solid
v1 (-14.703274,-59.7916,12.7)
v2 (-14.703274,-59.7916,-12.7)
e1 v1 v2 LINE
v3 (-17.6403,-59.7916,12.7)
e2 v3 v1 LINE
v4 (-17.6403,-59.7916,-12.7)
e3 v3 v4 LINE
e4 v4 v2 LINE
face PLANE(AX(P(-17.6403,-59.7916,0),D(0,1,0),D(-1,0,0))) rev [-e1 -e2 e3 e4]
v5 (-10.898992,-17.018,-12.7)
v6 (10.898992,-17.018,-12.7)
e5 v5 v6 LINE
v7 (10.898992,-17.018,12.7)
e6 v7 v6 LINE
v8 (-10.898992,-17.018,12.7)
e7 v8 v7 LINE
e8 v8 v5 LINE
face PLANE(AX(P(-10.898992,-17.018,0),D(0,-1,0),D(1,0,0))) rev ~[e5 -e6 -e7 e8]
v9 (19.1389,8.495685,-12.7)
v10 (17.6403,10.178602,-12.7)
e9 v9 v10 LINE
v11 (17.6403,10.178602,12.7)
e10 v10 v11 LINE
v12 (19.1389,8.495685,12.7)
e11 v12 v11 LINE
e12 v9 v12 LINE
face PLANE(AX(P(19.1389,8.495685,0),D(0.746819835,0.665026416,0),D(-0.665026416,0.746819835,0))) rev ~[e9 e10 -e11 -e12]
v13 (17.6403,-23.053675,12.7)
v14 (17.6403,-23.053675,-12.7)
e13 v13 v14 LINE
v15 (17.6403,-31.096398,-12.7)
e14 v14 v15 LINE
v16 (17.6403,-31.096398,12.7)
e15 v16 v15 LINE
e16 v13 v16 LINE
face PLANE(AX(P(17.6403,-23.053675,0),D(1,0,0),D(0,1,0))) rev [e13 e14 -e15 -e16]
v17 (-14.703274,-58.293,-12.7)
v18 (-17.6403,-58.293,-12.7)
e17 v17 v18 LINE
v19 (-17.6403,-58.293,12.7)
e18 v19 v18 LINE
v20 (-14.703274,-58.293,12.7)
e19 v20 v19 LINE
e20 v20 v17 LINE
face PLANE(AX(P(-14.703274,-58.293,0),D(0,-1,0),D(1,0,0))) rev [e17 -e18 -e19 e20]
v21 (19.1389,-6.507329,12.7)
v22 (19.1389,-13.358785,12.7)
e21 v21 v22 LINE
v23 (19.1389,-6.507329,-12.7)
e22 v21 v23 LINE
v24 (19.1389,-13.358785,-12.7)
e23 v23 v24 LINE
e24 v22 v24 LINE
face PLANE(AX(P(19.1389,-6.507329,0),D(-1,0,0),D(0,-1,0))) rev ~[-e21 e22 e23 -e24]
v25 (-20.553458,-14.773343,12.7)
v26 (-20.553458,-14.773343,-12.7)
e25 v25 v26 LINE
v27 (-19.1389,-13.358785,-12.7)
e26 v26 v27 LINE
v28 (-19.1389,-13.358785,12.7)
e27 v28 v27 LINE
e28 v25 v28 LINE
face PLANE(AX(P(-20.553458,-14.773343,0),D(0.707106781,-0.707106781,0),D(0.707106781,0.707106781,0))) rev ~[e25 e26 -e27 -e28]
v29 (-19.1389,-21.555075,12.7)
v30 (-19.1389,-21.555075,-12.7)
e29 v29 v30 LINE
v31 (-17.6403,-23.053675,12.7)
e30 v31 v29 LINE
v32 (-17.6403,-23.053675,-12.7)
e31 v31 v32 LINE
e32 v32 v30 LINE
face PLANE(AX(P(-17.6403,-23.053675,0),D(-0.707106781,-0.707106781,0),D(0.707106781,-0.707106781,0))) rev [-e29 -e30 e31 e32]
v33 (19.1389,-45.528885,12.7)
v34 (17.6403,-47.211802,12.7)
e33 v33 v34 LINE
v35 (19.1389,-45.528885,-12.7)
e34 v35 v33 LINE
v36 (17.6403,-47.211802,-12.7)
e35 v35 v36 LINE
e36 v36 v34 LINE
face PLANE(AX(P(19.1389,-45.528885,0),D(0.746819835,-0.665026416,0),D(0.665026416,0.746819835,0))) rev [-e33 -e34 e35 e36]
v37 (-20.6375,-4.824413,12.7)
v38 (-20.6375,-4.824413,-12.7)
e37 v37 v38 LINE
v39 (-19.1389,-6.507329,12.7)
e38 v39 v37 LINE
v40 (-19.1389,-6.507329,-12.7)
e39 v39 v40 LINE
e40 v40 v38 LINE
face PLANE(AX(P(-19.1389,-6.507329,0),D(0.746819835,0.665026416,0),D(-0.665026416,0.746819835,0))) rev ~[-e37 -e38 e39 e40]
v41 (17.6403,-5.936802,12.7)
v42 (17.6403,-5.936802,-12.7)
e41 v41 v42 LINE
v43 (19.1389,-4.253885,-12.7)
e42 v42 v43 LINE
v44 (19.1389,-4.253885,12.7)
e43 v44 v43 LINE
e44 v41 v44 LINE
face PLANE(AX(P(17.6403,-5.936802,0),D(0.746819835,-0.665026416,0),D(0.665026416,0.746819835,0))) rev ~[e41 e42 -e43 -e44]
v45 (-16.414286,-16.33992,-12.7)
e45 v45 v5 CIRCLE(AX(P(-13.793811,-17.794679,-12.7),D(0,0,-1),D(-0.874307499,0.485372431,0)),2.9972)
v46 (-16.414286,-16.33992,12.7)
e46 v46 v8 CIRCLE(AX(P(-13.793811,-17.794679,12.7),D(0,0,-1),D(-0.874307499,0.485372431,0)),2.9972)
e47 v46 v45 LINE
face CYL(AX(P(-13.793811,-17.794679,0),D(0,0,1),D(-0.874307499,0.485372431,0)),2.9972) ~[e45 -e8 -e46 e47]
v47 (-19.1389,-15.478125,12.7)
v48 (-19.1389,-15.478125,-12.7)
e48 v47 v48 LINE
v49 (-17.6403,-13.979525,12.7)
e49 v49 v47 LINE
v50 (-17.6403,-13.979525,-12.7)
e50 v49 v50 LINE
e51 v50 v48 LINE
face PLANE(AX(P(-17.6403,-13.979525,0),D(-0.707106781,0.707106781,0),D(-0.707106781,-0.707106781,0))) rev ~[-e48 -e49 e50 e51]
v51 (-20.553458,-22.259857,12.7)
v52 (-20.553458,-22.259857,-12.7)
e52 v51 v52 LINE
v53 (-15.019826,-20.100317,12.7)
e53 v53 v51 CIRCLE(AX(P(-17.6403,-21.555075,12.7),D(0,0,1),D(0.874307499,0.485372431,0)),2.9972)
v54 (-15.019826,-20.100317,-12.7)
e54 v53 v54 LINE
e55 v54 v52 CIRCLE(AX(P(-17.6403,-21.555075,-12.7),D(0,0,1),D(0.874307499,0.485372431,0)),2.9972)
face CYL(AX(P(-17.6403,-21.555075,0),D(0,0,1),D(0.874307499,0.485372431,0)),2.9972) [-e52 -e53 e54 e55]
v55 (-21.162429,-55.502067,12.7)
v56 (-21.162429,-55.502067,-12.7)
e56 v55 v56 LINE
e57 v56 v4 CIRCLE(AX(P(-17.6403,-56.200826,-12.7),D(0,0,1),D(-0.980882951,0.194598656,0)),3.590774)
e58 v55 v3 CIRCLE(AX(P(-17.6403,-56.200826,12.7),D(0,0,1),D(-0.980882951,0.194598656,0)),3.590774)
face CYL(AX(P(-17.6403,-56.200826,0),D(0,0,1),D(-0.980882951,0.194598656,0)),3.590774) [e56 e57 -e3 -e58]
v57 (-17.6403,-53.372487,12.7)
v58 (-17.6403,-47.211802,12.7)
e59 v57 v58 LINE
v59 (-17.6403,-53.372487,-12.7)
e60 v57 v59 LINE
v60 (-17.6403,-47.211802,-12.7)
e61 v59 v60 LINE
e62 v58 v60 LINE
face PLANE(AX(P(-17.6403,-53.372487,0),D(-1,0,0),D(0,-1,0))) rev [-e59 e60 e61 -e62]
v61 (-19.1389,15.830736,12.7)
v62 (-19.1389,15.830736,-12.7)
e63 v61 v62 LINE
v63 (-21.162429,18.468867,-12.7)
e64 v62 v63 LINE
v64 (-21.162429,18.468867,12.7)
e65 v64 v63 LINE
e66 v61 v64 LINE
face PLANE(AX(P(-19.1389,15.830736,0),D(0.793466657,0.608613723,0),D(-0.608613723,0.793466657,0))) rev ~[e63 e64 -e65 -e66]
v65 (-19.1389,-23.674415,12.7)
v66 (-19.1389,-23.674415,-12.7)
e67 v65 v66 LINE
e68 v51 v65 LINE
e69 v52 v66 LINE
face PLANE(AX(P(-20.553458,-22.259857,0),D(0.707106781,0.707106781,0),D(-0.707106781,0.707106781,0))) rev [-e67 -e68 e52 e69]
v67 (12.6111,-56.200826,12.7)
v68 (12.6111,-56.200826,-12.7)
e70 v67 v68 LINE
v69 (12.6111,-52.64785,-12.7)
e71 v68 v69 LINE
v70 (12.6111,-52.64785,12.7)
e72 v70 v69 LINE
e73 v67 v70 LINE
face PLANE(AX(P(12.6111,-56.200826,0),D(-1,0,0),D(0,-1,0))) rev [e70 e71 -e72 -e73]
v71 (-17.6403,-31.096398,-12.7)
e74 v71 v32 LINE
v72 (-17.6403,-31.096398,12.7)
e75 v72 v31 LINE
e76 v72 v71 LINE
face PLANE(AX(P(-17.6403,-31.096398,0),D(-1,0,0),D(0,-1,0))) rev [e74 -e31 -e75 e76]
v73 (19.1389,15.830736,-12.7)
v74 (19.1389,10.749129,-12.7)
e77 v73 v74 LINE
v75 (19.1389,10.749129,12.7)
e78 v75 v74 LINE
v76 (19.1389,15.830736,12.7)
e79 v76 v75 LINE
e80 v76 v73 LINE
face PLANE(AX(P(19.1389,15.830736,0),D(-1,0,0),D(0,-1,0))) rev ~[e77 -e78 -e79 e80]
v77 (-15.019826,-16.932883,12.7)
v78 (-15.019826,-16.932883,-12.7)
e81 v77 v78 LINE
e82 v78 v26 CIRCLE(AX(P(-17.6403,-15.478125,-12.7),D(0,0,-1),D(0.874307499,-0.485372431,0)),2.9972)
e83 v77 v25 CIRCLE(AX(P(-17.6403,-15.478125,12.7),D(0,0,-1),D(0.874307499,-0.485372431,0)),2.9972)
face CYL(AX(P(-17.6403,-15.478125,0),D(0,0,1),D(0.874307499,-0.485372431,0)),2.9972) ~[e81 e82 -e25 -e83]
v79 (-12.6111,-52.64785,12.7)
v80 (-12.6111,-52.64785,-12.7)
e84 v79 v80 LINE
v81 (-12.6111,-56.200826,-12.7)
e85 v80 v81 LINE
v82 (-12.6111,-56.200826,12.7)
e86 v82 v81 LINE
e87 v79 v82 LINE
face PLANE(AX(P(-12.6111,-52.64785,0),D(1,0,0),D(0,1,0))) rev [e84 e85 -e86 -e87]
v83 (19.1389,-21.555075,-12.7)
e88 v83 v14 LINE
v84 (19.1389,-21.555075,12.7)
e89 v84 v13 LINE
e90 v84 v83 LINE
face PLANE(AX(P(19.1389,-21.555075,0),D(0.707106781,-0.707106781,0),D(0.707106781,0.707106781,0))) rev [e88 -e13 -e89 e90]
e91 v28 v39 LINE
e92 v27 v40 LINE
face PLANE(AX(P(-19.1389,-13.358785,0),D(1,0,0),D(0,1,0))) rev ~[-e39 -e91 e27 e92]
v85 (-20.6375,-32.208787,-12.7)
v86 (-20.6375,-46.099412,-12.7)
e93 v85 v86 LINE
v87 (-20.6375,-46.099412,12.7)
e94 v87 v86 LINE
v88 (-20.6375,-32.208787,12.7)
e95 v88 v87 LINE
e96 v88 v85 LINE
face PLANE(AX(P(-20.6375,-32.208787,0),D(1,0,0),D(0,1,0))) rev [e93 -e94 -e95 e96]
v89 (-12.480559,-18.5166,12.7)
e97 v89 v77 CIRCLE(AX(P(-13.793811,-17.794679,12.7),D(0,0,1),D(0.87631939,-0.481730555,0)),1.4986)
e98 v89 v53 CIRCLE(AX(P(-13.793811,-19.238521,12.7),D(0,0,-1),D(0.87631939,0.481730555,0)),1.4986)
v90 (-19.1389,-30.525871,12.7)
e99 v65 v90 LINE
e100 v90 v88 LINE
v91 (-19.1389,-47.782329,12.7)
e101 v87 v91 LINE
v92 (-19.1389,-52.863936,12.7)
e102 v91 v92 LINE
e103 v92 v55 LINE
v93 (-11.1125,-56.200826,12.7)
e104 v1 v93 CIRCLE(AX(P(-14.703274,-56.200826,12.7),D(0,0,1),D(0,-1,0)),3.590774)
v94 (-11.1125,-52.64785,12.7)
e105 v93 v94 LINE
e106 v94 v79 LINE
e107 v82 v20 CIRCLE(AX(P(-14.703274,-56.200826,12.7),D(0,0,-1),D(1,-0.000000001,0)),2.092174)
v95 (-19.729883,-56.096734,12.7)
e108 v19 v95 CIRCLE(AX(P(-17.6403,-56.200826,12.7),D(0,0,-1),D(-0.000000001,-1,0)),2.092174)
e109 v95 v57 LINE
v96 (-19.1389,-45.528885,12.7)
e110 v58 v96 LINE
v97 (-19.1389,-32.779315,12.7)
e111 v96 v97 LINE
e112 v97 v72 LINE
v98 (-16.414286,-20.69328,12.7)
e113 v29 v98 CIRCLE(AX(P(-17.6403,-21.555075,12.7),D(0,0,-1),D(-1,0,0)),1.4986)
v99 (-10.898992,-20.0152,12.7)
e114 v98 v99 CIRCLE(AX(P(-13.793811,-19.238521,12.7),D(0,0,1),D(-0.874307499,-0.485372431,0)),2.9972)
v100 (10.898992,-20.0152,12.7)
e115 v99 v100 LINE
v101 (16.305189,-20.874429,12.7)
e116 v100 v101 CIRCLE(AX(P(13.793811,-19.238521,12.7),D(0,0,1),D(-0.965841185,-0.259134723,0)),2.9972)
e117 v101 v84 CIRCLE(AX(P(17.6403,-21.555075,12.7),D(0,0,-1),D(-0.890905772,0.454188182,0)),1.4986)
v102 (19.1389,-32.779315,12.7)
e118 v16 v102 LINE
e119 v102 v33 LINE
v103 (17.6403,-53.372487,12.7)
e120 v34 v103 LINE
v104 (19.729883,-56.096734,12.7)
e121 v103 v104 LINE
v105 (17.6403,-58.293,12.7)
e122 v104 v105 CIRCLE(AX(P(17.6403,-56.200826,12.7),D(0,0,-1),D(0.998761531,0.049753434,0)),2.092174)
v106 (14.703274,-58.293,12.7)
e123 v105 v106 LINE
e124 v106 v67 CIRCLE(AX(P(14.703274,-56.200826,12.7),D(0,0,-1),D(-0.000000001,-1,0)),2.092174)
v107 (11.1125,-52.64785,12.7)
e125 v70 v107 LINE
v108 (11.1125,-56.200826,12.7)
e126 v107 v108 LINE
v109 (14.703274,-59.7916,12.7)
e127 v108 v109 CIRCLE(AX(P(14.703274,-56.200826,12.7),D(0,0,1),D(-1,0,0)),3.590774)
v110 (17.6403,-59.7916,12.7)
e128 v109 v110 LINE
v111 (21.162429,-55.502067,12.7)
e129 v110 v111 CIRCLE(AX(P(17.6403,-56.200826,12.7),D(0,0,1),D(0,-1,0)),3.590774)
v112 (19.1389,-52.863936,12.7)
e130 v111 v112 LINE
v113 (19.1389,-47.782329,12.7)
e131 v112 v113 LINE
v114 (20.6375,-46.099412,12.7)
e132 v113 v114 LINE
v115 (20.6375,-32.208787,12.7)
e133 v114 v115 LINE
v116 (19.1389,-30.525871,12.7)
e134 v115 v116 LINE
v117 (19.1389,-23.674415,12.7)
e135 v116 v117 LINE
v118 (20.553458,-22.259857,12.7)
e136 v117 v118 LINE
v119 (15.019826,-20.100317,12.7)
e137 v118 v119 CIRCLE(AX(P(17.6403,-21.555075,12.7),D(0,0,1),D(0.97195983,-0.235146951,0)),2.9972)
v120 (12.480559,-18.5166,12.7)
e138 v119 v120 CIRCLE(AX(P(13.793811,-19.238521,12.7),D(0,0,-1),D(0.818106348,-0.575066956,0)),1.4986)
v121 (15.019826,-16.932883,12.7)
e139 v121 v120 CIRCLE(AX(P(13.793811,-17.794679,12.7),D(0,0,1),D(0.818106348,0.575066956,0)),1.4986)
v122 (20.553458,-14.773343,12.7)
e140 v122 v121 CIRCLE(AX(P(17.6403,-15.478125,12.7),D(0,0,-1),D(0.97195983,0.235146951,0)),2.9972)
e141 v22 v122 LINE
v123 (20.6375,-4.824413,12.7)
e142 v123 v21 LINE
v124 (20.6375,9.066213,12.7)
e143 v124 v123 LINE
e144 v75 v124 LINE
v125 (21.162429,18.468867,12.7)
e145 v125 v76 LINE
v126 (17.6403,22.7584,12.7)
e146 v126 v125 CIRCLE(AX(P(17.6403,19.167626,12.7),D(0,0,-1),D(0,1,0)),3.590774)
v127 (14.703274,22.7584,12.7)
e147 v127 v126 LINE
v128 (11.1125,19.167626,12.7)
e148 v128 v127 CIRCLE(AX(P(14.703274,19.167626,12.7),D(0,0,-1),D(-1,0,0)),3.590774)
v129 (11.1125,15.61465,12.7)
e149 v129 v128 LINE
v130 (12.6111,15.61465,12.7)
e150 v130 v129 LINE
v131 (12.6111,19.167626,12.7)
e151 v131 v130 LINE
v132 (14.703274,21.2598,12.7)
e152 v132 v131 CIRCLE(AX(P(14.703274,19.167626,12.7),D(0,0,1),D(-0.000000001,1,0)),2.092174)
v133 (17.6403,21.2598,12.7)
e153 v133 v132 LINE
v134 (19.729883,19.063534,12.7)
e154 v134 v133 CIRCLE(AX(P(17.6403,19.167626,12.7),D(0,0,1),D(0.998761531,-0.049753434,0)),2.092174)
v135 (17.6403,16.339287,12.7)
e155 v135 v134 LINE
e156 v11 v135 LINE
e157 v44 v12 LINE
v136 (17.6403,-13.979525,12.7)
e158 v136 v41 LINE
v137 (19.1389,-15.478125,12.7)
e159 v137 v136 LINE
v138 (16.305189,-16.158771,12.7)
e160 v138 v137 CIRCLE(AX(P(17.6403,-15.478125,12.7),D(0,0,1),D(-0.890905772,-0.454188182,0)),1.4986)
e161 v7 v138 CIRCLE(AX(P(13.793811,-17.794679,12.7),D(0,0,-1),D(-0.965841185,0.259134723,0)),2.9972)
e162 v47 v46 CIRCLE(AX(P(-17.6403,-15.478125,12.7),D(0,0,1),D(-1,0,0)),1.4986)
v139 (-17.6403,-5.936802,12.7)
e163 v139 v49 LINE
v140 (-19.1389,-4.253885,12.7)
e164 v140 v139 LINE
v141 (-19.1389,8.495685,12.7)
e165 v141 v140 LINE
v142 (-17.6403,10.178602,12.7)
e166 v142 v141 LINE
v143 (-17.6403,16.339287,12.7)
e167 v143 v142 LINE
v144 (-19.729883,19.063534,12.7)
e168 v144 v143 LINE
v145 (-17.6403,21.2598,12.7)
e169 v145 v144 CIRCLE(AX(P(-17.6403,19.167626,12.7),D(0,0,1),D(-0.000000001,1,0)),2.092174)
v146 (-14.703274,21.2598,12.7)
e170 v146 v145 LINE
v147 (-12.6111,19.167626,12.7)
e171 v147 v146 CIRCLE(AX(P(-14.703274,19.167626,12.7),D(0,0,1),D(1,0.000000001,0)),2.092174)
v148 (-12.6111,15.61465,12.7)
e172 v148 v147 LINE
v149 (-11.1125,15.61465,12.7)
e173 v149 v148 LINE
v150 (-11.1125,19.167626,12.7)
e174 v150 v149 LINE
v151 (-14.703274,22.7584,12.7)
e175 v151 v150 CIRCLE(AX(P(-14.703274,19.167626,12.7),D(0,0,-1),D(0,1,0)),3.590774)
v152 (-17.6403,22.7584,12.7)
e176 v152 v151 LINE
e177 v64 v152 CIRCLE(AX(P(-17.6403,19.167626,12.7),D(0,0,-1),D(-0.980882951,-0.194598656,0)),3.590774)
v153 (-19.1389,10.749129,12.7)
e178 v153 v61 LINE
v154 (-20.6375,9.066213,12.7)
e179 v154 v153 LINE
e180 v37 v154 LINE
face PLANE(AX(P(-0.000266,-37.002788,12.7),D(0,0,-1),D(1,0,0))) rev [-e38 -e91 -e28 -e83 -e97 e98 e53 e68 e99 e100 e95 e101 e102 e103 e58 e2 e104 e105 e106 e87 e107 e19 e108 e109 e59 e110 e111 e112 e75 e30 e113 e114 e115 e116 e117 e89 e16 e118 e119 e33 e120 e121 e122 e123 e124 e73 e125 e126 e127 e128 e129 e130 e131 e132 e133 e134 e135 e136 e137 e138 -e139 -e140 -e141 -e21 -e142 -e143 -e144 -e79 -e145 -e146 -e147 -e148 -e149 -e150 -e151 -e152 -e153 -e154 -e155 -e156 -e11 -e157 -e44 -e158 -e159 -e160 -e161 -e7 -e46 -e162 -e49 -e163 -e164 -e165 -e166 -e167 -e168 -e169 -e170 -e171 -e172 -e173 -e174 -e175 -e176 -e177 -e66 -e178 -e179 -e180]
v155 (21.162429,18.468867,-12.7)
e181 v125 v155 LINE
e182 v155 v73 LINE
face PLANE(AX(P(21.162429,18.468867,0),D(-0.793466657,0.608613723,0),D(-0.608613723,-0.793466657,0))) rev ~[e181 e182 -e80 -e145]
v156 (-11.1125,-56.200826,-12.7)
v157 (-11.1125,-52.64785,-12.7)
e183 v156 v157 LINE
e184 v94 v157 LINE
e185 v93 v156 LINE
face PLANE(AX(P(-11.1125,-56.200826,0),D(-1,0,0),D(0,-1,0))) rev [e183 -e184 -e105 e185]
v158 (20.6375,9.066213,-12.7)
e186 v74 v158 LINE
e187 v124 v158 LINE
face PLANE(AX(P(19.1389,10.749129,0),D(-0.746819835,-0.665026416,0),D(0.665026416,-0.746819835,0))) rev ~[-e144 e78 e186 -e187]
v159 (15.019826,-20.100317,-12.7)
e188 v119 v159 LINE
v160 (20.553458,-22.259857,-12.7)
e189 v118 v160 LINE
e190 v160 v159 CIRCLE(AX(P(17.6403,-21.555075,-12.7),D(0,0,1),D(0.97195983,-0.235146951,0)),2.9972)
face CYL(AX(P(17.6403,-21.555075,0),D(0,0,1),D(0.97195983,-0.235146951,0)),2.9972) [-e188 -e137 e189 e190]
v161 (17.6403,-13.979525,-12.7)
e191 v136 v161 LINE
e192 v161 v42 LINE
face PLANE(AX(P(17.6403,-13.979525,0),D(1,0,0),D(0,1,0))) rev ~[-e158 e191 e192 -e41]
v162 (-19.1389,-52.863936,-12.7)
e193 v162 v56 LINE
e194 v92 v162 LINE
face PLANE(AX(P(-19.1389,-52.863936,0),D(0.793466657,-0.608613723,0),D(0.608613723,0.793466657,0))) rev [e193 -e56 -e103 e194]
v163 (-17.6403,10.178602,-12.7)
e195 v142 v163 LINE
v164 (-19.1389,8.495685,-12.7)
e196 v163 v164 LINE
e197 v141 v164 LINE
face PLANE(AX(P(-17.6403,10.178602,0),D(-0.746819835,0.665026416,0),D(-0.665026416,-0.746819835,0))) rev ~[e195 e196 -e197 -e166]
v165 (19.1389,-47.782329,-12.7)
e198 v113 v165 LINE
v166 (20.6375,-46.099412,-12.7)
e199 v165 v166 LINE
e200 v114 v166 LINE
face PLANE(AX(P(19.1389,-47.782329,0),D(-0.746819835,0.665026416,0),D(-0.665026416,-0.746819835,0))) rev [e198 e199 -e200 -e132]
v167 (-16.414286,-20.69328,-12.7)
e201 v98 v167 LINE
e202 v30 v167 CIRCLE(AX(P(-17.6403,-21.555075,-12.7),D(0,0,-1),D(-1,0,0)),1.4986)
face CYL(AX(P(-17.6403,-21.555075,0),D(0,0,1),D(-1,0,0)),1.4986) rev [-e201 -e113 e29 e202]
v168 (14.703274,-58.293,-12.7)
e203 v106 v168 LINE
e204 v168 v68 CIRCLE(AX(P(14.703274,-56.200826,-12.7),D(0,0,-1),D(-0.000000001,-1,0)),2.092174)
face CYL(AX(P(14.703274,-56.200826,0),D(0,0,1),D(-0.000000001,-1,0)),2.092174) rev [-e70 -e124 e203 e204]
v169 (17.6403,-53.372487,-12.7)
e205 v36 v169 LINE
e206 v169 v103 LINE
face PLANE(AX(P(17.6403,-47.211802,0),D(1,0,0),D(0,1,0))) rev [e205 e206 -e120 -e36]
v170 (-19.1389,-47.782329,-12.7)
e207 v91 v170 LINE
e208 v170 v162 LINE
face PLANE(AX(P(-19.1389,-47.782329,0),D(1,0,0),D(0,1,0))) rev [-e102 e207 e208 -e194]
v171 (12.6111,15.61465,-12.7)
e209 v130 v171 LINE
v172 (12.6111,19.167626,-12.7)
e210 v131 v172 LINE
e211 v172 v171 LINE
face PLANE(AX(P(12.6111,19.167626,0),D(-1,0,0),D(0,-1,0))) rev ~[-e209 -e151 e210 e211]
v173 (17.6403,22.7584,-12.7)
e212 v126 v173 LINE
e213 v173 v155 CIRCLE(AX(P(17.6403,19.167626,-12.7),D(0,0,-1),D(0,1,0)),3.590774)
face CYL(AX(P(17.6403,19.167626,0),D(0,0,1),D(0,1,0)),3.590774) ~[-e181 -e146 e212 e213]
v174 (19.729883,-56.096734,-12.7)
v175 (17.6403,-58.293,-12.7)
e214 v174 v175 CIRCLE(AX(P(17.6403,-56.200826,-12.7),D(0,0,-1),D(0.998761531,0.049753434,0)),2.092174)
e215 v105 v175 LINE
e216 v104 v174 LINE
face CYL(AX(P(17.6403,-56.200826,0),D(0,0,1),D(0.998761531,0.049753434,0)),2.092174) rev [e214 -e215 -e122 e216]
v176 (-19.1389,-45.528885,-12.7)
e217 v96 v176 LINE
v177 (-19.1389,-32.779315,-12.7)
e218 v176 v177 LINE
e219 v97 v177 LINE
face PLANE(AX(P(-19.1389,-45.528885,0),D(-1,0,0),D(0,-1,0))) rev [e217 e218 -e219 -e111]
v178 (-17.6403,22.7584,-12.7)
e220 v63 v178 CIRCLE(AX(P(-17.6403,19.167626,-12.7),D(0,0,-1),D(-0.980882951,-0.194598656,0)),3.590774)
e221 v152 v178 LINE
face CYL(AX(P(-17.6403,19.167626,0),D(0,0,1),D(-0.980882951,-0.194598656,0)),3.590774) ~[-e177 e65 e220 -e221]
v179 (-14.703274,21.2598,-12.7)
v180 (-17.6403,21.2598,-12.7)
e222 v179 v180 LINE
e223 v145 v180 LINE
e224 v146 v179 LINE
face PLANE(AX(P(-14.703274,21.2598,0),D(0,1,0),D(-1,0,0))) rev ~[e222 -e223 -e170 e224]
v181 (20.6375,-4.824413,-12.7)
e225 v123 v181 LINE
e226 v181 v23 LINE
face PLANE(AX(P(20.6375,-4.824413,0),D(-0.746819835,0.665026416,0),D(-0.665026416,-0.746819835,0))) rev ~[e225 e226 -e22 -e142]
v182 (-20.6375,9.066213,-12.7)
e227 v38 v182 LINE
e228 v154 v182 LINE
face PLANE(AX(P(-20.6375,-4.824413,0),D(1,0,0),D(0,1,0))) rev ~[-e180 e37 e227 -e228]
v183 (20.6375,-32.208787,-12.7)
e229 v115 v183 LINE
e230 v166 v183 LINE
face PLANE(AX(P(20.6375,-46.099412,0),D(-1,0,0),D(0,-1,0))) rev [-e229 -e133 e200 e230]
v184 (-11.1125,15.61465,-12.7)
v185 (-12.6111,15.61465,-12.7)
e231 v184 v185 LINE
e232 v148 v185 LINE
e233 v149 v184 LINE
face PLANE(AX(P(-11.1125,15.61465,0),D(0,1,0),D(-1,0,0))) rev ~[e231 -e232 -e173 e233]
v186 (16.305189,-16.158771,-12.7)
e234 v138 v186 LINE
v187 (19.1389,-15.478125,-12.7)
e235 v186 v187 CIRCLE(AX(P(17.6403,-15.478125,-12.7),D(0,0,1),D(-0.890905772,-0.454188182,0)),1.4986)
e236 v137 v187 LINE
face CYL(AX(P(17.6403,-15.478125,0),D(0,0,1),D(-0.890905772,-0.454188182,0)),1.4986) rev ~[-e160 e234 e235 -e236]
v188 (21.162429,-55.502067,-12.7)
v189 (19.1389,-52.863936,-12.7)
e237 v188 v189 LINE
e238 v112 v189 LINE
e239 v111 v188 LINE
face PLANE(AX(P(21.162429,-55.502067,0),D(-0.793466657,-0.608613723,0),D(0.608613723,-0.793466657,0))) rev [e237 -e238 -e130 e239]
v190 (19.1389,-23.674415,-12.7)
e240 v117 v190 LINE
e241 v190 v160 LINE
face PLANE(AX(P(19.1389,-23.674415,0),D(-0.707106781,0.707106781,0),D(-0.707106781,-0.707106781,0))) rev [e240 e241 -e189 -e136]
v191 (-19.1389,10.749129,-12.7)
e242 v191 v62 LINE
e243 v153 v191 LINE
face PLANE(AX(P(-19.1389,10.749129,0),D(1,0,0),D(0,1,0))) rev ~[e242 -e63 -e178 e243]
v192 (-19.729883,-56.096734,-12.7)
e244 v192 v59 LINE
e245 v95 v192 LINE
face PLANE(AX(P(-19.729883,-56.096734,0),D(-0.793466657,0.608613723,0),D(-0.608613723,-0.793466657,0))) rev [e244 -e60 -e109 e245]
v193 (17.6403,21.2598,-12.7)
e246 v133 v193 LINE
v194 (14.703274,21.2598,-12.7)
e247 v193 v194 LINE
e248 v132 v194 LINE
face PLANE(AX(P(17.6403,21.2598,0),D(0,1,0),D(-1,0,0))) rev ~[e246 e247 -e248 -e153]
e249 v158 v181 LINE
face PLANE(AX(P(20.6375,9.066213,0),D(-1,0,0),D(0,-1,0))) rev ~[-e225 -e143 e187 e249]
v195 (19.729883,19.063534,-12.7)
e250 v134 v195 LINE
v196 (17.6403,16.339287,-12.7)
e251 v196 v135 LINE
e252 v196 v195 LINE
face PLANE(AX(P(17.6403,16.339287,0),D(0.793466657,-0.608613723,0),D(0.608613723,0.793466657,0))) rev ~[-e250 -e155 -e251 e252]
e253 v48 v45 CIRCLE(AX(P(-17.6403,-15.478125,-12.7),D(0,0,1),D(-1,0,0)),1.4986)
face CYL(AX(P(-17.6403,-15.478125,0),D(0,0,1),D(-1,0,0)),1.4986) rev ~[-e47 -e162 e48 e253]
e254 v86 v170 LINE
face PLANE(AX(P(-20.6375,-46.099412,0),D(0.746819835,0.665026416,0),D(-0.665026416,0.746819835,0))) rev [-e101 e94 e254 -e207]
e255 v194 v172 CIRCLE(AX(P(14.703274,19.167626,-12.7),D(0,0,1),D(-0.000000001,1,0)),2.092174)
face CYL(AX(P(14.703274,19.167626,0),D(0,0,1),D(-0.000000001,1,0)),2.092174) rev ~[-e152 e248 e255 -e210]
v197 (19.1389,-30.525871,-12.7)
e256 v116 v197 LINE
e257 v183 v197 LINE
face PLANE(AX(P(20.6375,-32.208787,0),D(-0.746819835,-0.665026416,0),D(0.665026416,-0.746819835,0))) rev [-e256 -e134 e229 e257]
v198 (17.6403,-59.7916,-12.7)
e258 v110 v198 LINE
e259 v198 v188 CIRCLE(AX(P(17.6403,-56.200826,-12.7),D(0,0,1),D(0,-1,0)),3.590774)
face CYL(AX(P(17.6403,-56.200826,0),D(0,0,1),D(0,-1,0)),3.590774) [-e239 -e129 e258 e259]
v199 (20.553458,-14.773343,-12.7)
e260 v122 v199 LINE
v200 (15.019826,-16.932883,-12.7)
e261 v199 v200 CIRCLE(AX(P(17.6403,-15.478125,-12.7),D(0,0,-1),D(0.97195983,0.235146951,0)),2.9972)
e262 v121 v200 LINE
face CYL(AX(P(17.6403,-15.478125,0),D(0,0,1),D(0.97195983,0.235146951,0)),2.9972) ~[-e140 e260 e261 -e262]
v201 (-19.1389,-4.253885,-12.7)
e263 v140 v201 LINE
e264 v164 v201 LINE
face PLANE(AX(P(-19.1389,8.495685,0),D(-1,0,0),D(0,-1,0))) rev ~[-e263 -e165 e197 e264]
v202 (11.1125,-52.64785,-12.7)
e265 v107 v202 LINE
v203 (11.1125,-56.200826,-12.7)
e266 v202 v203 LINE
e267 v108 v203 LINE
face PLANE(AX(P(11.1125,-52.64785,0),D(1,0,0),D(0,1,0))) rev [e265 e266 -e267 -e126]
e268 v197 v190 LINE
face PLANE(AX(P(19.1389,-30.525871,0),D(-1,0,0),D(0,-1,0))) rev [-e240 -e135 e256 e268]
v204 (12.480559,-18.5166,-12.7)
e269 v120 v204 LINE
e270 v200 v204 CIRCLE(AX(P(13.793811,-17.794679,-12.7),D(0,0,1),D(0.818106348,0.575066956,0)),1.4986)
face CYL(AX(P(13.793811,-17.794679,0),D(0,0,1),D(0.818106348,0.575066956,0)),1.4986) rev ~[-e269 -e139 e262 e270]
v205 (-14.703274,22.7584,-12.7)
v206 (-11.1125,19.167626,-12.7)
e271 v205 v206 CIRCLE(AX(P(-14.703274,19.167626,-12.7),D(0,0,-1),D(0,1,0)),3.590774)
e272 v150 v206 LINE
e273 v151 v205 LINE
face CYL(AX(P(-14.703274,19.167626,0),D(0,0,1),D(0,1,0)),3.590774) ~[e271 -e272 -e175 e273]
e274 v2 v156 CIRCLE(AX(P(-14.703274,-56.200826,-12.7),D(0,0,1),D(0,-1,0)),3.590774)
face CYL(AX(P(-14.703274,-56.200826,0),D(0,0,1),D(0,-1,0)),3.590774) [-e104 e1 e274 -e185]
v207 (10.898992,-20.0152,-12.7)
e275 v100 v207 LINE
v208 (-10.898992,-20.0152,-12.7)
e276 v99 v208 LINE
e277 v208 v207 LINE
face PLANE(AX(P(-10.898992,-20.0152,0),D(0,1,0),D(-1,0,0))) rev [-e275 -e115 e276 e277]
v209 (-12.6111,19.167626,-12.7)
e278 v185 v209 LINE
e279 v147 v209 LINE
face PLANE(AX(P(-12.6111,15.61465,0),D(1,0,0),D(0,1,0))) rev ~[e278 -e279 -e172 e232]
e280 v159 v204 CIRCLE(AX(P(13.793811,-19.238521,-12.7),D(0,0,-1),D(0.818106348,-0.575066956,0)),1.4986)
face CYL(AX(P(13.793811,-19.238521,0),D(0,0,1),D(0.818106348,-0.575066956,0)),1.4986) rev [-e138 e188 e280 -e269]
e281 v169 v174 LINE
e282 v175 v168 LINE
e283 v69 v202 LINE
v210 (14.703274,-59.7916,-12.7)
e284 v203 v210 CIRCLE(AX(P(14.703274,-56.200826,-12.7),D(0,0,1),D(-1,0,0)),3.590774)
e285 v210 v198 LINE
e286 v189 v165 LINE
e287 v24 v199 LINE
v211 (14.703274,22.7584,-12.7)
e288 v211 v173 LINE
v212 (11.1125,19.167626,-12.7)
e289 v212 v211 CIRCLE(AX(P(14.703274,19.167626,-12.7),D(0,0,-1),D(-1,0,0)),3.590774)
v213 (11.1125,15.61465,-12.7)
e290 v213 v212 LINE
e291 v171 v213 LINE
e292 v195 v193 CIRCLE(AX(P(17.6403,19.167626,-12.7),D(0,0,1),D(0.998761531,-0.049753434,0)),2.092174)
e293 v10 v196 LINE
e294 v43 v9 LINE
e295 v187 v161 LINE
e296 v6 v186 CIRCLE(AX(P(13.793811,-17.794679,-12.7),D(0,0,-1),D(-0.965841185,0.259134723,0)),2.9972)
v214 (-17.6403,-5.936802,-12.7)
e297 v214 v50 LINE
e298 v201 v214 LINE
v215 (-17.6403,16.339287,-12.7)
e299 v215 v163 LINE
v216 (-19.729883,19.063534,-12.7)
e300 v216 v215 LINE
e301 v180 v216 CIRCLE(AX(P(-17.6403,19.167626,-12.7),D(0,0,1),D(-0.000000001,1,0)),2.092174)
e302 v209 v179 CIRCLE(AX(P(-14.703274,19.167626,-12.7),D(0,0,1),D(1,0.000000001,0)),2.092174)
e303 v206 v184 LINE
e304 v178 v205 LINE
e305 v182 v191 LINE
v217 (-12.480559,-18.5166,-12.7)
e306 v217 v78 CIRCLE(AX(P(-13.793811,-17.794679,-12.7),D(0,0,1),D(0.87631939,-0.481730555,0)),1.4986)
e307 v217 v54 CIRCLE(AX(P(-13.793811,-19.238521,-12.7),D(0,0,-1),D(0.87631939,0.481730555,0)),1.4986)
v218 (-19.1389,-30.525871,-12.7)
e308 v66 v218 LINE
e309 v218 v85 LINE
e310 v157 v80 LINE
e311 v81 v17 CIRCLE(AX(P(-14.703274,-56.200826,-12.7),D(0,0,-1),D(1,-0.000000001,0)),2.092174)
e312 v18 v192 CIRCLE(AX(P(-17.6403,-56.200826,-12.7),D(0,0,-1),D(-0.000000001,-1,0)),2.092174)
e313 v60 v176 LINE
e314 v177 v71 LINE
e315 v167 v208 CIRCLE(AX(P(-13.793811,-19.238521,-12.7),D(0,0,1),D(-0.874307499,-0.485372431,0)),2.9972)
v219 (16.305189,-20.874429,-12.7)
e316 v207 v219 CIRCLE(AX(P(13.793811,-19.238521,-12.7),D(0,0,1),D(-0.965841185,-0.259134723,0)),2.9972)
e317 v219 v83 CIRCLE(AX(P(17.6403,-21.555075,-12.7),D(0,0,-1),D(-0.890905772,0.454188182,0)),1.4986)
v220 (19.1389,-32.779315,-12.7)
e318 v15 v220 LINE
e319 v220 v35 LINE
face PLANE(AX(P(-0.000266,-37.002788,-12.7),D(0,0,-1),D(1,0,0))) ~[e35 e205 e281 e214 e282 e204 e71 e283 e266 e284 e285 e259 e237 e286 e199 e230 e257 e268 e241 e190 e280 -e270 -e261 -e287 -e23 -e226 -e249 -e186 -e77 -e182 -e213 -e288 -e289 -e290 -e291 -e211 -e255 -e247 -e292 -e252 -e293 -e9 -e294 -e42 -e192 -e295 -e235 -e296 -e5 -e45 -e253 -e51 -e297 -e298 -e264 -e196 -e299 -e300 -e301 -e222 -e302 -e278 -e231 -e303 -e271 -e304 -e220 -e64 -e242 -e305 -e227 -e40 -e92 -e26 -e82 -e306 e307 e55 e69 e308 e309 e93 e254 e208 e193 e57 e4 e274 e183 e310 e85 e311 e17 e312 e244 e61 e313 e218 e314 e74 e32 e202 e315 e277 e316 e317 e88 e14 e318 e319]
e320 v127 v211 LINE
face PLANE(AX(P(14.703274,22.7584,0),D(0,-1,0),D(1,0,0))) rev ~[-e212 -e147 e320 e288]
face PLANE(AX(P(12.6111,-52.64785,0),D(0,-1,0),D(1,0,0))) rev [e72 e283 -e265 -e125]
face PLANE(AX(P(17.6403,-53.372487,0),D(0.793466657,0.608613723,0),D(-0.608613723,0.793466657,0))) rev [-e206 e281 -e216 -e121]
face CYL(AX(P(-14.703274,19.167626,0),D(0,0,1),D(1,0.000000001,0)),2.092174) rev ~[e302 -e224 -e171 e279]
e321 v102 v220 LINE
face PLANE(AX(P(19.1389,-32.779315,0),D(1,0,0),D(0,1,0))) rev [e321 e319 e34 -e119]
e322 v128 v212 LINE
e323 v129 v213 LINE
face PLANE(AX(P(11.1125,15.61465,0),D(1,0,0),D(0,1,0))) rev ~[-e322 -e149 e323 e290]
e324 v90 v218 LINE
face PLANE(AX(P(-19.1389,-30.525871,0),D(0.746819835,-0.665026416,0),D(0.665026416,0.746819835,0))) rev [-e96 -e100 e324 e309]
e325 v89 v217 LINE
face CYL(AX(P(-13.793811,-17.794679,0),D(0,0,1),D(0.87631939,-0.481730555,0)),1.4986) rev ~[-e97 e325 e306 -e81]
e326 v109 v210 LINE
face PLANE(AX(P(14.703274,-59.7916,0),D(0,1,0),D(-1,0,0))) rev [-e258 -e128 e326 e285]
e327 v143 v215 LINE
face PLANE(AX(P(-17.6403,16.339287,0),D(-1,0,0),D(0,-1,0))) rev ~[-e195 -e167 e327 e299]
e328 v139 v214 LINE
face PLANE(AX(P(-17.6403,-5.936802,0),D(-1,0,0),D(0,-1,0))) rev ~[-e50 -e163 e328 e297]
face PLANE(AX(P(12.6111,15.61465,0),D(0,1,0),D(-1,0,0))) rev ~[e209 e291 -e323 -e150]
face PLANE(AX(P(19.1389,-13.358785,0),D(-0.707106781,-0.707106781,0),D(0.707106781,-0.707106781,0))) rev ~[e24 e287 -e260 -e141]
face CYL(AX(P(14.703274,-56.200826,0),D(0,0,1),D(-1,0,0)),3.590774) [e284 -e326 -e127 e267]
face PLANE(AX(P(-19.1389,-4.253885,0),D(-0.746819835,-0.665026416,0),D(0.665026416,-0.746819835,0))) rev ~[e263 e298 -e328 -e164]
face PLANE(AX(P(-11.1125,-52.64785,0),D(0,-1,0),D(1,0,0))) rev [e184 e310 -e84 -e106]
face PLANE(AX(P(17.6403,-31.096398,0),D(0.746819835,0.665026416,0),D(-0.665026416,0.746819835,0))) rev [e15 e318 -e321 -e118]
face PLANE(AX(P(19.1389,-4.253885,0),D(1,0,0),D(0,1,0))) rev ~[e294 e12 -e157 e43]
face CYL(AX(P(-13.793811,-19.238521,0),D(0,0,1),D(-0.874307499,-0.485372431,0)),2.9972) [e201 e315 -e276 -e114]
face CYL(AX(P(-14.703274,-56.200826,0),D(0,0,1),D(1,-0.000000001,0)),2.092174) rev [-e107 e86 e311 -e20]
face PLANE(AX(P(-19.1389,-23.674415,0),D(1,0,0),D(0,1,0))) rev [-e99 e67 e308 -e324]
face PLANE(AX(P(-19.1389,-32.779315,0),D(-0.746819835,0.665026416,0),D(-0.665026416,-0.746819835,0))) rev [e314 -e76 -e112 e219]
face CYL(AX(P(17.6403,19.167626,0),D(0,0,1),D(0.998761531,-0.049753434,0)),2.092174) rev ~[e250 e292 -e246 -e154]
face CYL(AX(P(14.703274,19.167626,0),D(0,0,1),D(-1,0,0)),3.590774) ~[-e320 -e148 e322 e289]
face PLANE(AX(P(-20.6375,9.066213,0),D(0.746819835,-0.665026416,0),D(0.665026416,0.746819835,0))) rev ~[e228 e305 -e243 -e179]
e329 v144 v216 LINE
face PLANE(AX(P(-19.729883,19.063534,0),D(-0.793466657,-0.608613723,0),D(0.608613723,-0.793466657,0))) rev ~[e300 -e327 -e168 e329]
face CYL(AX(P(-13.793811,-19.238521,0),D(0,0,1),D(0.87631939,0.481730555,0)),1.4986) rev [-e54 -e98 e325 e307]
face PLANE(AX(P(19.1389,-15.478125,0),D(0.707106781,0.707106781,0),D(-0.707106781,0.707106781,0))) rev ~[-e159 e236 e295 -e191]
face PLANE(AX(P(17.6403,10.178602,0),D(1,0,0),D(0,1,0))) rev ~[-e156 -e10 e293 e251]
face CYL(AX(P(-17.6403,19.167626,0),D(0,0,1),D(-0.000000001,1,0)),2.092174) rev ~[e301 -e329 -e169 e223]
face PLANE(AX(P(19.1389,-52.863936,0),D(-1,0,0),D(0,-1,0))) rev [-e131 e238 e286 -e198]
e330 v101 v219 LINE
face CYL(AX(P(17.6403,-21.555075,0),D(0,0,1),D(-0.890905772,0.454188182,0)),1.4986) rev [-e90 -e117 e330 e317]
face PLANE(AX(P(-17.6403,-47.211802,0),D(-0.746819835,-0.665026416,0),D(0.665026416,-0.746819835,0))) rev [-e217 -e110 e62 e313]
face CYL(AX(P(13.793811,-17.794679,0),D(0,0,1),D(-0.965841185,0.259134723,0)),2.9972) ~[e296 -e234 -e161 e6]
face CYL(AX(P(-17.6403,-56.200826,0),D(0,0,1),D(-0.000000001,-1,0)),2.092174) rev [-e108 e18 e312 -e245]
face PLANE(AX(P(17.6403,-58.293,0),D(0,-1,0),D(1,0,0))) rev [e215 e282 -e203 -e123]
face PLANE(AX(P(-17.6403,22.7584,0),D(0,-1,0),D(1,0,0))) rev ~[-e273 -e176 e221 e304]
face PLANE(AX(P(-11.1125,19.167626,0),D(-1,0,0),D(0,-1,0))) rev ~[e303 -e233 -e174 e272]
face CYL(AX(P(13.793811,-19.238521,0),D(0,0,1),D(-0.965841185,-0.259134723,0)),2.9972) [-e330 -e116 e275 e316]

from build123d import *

# Parameters (mm, degrees)
BASE_EXTRUDE_DEPTH = 12.7


with BuildPart() as part:
    # Sketch1 → Base-Extrude (new, symmetric)
    with BuildSketch(Plane.XY):
        with BuildLine():
            Line((17.6403, 16.339286512), (19.729882578, 19.063533504))
            ThreePointArc((19.729882578, 19.063533504), (19.156045845, 20.609744632), (17.6403, 21.2598))
            Line((17.6403, 21.2598), (14.70327367, 21.2598))
            ThreePointArc((14.70327367, 21.2598), (13.223883481, 20.647016519), (12.6111, 19.16762633))
            Line((12.6111, 19.16762633), (12.6111, 15.61465))
            Line((12.6111, 15.61465), (11.1125, 15.61465))
            Line((11.1125, 15.61465), (11.1125, 19.16762633))
            ThreePointArc((11.1125, 19.16762633), (12.164213258, 21.706686742), (14.70327367, 22.7584))
            Line((14.70327367, 22.7584), (17.6403, 22.7584))
            ThreePointArc((17.6403, 22.7584), (20.415434554, 21.446284653), (21.162428673, 18.4688666))
            Line((21.162428673, 18.4688666), (19.1389, 15.830735923))
            Line((19.1389, 15.830735923), (19.1389, 10.749129415))
            Line((19.1389, 10.749129415), (20.6375, 9.0662125))
            Line((20.6375, 9.0662125), (20.6375, -4.8244125))
            Line((20.6375, -4.8244125), (19.1389, -6.507329415))
            Line((19.1389, -6.507329415), (19.1389, -13.358784555))
            Line((19.1389, -13.358784555), (20.553458003, -14.773342558))
            ThreePointArc((20.553458003, -14.773342558), (18.729942105, -18.270236732), (15.019825564, -16.932883251))
            ThreePointArc((15.019825564, -16.932883251), (13.000752562, -16.523120627), (12.480559153, -18.5166))
            Line((12.480559153, -18.5166), (-12.480559153, -18.5166))
            ThreePointArc((-12.480559153, -18.5166), (-13.000752562, -16.523120627), (-15.019825564, -16.932883251))
            ThreePointArc((-15.019825564, -16.932883251), (-18.729942105, -18.270236732), (-20.553458003, -14.773342558))
            Line((-20.553458003, -14.773342558), (-19.1389, -13.358784555))
            Line((-19.1389, -13.358784555), (-19.1389, -6.507329415))
            Line((-19.1389, -6.507329415), (-20.6375, -4.8244125))
            Line((-20.6375, -4.8244125), (-20.6375, 9.0662125))
            Line((-20.6375, 9.0662125), (-19.1389, 10.749129415))
            Line((-19.1389, 10.749129415), (-19.1389, 15.830735923))
            Line((-19.1389, 15.830735923), (-21.162428673, 18.4688666))
            ThreePointArc((-21.162428673, 18.4688666), (-20.415434554, 21.446284653), (-17.6403, 22.7584))
            Line((-17.6403, 22.7584), (-14.70327367, 22.7584))
            ThreePointArc((-14.70327367, 22.7584), (-12.164213258, 21.706686742), (-11.1125, 19.16762633))
            Line((-11.1125, 19.16762633), (-11.1125, 15.61465))
            Line((-11.1125, 15.61465), (-12.6111, 15.61465))
            Line((-12.6111, 15.61465), (-12.6111, 19.16762633))
            ThreePointArc((-12.6111, 19.16762633), (-13.223883481, 20.647016519), (-14.70327367, 21.2598))
            Line((-14.70327367, 21.2598), (-17.6403, 21.2598))
            ThreePointArc((-17.6403, 21.2598), (-19.156045845, 20.609744632), (-19.729882578, 19.063533504))
            Line((-19.729882578, 19.063533504), (-17.6403, 16.339286512))
            Line((-17.6403, 16.339286512), (-17.6403, 10.17860201))
            Line((-17.6403, 10.17860201), (-19.1389, 8.495685095))
            Line((-19.1389, 8.495685095), (-19.1389, -4.253885095))
            Line((-19.1389, -4.253885095), (-17.6403, -5.93680201))
            Line((-17.6403, -5.93680201), (-17.6403, -13.979525))
            Line((-17.6403, -13.979525), (-19.1389, -15.478125))
            ThreePointArc((-19.1389, -15.478125), (-18.092238669, -16.906954381), (-16.414285827, -16.33992034))
            ThreePointArc((-16.414285827, -16.33992034), (-13.428073412, -14.819877156), (-10.898992189, -17.018))
            Line((-10.898992189, -17.018), (10.898992189, -17.018))
            ThreePointArc((10.898992189, -17.018), (13.323359075, -14.834630878), (16.30518861, -16.15877141))
            ThreePointArc((16.30518861, -16.15877141), (17.990302879, -16.935279743), (19.1389, -15.478125))
            Line((19.1389, -15.478125), (17.6403, -13.979525))
            Line((17.6403, -13.979525), (17.6403, -5.93680201))
            Line((17.6403, -5.93680201), (19.1389, -4.253885095))
            Line((19.1389, -4.253885095), (19.1389, 8.495685095))
            Line((19.1389, 8.495685095), (17.6403, 10.17860201))
            Line((17.6403, 10.17860201), (17.6403, 16.339286512))
        make_face()
    base_extrude = extrude(amount=BASE_EXTRUDE_DEPTH, both=True)

    # Mirror1: Base-Extrude across plane
    add(base_extrude.mirror(Plane(origin=(0, -18.5166, 0), x_dir=(0, 0, 1), z_dir=(0, -1, 0))))


solid = part.part
